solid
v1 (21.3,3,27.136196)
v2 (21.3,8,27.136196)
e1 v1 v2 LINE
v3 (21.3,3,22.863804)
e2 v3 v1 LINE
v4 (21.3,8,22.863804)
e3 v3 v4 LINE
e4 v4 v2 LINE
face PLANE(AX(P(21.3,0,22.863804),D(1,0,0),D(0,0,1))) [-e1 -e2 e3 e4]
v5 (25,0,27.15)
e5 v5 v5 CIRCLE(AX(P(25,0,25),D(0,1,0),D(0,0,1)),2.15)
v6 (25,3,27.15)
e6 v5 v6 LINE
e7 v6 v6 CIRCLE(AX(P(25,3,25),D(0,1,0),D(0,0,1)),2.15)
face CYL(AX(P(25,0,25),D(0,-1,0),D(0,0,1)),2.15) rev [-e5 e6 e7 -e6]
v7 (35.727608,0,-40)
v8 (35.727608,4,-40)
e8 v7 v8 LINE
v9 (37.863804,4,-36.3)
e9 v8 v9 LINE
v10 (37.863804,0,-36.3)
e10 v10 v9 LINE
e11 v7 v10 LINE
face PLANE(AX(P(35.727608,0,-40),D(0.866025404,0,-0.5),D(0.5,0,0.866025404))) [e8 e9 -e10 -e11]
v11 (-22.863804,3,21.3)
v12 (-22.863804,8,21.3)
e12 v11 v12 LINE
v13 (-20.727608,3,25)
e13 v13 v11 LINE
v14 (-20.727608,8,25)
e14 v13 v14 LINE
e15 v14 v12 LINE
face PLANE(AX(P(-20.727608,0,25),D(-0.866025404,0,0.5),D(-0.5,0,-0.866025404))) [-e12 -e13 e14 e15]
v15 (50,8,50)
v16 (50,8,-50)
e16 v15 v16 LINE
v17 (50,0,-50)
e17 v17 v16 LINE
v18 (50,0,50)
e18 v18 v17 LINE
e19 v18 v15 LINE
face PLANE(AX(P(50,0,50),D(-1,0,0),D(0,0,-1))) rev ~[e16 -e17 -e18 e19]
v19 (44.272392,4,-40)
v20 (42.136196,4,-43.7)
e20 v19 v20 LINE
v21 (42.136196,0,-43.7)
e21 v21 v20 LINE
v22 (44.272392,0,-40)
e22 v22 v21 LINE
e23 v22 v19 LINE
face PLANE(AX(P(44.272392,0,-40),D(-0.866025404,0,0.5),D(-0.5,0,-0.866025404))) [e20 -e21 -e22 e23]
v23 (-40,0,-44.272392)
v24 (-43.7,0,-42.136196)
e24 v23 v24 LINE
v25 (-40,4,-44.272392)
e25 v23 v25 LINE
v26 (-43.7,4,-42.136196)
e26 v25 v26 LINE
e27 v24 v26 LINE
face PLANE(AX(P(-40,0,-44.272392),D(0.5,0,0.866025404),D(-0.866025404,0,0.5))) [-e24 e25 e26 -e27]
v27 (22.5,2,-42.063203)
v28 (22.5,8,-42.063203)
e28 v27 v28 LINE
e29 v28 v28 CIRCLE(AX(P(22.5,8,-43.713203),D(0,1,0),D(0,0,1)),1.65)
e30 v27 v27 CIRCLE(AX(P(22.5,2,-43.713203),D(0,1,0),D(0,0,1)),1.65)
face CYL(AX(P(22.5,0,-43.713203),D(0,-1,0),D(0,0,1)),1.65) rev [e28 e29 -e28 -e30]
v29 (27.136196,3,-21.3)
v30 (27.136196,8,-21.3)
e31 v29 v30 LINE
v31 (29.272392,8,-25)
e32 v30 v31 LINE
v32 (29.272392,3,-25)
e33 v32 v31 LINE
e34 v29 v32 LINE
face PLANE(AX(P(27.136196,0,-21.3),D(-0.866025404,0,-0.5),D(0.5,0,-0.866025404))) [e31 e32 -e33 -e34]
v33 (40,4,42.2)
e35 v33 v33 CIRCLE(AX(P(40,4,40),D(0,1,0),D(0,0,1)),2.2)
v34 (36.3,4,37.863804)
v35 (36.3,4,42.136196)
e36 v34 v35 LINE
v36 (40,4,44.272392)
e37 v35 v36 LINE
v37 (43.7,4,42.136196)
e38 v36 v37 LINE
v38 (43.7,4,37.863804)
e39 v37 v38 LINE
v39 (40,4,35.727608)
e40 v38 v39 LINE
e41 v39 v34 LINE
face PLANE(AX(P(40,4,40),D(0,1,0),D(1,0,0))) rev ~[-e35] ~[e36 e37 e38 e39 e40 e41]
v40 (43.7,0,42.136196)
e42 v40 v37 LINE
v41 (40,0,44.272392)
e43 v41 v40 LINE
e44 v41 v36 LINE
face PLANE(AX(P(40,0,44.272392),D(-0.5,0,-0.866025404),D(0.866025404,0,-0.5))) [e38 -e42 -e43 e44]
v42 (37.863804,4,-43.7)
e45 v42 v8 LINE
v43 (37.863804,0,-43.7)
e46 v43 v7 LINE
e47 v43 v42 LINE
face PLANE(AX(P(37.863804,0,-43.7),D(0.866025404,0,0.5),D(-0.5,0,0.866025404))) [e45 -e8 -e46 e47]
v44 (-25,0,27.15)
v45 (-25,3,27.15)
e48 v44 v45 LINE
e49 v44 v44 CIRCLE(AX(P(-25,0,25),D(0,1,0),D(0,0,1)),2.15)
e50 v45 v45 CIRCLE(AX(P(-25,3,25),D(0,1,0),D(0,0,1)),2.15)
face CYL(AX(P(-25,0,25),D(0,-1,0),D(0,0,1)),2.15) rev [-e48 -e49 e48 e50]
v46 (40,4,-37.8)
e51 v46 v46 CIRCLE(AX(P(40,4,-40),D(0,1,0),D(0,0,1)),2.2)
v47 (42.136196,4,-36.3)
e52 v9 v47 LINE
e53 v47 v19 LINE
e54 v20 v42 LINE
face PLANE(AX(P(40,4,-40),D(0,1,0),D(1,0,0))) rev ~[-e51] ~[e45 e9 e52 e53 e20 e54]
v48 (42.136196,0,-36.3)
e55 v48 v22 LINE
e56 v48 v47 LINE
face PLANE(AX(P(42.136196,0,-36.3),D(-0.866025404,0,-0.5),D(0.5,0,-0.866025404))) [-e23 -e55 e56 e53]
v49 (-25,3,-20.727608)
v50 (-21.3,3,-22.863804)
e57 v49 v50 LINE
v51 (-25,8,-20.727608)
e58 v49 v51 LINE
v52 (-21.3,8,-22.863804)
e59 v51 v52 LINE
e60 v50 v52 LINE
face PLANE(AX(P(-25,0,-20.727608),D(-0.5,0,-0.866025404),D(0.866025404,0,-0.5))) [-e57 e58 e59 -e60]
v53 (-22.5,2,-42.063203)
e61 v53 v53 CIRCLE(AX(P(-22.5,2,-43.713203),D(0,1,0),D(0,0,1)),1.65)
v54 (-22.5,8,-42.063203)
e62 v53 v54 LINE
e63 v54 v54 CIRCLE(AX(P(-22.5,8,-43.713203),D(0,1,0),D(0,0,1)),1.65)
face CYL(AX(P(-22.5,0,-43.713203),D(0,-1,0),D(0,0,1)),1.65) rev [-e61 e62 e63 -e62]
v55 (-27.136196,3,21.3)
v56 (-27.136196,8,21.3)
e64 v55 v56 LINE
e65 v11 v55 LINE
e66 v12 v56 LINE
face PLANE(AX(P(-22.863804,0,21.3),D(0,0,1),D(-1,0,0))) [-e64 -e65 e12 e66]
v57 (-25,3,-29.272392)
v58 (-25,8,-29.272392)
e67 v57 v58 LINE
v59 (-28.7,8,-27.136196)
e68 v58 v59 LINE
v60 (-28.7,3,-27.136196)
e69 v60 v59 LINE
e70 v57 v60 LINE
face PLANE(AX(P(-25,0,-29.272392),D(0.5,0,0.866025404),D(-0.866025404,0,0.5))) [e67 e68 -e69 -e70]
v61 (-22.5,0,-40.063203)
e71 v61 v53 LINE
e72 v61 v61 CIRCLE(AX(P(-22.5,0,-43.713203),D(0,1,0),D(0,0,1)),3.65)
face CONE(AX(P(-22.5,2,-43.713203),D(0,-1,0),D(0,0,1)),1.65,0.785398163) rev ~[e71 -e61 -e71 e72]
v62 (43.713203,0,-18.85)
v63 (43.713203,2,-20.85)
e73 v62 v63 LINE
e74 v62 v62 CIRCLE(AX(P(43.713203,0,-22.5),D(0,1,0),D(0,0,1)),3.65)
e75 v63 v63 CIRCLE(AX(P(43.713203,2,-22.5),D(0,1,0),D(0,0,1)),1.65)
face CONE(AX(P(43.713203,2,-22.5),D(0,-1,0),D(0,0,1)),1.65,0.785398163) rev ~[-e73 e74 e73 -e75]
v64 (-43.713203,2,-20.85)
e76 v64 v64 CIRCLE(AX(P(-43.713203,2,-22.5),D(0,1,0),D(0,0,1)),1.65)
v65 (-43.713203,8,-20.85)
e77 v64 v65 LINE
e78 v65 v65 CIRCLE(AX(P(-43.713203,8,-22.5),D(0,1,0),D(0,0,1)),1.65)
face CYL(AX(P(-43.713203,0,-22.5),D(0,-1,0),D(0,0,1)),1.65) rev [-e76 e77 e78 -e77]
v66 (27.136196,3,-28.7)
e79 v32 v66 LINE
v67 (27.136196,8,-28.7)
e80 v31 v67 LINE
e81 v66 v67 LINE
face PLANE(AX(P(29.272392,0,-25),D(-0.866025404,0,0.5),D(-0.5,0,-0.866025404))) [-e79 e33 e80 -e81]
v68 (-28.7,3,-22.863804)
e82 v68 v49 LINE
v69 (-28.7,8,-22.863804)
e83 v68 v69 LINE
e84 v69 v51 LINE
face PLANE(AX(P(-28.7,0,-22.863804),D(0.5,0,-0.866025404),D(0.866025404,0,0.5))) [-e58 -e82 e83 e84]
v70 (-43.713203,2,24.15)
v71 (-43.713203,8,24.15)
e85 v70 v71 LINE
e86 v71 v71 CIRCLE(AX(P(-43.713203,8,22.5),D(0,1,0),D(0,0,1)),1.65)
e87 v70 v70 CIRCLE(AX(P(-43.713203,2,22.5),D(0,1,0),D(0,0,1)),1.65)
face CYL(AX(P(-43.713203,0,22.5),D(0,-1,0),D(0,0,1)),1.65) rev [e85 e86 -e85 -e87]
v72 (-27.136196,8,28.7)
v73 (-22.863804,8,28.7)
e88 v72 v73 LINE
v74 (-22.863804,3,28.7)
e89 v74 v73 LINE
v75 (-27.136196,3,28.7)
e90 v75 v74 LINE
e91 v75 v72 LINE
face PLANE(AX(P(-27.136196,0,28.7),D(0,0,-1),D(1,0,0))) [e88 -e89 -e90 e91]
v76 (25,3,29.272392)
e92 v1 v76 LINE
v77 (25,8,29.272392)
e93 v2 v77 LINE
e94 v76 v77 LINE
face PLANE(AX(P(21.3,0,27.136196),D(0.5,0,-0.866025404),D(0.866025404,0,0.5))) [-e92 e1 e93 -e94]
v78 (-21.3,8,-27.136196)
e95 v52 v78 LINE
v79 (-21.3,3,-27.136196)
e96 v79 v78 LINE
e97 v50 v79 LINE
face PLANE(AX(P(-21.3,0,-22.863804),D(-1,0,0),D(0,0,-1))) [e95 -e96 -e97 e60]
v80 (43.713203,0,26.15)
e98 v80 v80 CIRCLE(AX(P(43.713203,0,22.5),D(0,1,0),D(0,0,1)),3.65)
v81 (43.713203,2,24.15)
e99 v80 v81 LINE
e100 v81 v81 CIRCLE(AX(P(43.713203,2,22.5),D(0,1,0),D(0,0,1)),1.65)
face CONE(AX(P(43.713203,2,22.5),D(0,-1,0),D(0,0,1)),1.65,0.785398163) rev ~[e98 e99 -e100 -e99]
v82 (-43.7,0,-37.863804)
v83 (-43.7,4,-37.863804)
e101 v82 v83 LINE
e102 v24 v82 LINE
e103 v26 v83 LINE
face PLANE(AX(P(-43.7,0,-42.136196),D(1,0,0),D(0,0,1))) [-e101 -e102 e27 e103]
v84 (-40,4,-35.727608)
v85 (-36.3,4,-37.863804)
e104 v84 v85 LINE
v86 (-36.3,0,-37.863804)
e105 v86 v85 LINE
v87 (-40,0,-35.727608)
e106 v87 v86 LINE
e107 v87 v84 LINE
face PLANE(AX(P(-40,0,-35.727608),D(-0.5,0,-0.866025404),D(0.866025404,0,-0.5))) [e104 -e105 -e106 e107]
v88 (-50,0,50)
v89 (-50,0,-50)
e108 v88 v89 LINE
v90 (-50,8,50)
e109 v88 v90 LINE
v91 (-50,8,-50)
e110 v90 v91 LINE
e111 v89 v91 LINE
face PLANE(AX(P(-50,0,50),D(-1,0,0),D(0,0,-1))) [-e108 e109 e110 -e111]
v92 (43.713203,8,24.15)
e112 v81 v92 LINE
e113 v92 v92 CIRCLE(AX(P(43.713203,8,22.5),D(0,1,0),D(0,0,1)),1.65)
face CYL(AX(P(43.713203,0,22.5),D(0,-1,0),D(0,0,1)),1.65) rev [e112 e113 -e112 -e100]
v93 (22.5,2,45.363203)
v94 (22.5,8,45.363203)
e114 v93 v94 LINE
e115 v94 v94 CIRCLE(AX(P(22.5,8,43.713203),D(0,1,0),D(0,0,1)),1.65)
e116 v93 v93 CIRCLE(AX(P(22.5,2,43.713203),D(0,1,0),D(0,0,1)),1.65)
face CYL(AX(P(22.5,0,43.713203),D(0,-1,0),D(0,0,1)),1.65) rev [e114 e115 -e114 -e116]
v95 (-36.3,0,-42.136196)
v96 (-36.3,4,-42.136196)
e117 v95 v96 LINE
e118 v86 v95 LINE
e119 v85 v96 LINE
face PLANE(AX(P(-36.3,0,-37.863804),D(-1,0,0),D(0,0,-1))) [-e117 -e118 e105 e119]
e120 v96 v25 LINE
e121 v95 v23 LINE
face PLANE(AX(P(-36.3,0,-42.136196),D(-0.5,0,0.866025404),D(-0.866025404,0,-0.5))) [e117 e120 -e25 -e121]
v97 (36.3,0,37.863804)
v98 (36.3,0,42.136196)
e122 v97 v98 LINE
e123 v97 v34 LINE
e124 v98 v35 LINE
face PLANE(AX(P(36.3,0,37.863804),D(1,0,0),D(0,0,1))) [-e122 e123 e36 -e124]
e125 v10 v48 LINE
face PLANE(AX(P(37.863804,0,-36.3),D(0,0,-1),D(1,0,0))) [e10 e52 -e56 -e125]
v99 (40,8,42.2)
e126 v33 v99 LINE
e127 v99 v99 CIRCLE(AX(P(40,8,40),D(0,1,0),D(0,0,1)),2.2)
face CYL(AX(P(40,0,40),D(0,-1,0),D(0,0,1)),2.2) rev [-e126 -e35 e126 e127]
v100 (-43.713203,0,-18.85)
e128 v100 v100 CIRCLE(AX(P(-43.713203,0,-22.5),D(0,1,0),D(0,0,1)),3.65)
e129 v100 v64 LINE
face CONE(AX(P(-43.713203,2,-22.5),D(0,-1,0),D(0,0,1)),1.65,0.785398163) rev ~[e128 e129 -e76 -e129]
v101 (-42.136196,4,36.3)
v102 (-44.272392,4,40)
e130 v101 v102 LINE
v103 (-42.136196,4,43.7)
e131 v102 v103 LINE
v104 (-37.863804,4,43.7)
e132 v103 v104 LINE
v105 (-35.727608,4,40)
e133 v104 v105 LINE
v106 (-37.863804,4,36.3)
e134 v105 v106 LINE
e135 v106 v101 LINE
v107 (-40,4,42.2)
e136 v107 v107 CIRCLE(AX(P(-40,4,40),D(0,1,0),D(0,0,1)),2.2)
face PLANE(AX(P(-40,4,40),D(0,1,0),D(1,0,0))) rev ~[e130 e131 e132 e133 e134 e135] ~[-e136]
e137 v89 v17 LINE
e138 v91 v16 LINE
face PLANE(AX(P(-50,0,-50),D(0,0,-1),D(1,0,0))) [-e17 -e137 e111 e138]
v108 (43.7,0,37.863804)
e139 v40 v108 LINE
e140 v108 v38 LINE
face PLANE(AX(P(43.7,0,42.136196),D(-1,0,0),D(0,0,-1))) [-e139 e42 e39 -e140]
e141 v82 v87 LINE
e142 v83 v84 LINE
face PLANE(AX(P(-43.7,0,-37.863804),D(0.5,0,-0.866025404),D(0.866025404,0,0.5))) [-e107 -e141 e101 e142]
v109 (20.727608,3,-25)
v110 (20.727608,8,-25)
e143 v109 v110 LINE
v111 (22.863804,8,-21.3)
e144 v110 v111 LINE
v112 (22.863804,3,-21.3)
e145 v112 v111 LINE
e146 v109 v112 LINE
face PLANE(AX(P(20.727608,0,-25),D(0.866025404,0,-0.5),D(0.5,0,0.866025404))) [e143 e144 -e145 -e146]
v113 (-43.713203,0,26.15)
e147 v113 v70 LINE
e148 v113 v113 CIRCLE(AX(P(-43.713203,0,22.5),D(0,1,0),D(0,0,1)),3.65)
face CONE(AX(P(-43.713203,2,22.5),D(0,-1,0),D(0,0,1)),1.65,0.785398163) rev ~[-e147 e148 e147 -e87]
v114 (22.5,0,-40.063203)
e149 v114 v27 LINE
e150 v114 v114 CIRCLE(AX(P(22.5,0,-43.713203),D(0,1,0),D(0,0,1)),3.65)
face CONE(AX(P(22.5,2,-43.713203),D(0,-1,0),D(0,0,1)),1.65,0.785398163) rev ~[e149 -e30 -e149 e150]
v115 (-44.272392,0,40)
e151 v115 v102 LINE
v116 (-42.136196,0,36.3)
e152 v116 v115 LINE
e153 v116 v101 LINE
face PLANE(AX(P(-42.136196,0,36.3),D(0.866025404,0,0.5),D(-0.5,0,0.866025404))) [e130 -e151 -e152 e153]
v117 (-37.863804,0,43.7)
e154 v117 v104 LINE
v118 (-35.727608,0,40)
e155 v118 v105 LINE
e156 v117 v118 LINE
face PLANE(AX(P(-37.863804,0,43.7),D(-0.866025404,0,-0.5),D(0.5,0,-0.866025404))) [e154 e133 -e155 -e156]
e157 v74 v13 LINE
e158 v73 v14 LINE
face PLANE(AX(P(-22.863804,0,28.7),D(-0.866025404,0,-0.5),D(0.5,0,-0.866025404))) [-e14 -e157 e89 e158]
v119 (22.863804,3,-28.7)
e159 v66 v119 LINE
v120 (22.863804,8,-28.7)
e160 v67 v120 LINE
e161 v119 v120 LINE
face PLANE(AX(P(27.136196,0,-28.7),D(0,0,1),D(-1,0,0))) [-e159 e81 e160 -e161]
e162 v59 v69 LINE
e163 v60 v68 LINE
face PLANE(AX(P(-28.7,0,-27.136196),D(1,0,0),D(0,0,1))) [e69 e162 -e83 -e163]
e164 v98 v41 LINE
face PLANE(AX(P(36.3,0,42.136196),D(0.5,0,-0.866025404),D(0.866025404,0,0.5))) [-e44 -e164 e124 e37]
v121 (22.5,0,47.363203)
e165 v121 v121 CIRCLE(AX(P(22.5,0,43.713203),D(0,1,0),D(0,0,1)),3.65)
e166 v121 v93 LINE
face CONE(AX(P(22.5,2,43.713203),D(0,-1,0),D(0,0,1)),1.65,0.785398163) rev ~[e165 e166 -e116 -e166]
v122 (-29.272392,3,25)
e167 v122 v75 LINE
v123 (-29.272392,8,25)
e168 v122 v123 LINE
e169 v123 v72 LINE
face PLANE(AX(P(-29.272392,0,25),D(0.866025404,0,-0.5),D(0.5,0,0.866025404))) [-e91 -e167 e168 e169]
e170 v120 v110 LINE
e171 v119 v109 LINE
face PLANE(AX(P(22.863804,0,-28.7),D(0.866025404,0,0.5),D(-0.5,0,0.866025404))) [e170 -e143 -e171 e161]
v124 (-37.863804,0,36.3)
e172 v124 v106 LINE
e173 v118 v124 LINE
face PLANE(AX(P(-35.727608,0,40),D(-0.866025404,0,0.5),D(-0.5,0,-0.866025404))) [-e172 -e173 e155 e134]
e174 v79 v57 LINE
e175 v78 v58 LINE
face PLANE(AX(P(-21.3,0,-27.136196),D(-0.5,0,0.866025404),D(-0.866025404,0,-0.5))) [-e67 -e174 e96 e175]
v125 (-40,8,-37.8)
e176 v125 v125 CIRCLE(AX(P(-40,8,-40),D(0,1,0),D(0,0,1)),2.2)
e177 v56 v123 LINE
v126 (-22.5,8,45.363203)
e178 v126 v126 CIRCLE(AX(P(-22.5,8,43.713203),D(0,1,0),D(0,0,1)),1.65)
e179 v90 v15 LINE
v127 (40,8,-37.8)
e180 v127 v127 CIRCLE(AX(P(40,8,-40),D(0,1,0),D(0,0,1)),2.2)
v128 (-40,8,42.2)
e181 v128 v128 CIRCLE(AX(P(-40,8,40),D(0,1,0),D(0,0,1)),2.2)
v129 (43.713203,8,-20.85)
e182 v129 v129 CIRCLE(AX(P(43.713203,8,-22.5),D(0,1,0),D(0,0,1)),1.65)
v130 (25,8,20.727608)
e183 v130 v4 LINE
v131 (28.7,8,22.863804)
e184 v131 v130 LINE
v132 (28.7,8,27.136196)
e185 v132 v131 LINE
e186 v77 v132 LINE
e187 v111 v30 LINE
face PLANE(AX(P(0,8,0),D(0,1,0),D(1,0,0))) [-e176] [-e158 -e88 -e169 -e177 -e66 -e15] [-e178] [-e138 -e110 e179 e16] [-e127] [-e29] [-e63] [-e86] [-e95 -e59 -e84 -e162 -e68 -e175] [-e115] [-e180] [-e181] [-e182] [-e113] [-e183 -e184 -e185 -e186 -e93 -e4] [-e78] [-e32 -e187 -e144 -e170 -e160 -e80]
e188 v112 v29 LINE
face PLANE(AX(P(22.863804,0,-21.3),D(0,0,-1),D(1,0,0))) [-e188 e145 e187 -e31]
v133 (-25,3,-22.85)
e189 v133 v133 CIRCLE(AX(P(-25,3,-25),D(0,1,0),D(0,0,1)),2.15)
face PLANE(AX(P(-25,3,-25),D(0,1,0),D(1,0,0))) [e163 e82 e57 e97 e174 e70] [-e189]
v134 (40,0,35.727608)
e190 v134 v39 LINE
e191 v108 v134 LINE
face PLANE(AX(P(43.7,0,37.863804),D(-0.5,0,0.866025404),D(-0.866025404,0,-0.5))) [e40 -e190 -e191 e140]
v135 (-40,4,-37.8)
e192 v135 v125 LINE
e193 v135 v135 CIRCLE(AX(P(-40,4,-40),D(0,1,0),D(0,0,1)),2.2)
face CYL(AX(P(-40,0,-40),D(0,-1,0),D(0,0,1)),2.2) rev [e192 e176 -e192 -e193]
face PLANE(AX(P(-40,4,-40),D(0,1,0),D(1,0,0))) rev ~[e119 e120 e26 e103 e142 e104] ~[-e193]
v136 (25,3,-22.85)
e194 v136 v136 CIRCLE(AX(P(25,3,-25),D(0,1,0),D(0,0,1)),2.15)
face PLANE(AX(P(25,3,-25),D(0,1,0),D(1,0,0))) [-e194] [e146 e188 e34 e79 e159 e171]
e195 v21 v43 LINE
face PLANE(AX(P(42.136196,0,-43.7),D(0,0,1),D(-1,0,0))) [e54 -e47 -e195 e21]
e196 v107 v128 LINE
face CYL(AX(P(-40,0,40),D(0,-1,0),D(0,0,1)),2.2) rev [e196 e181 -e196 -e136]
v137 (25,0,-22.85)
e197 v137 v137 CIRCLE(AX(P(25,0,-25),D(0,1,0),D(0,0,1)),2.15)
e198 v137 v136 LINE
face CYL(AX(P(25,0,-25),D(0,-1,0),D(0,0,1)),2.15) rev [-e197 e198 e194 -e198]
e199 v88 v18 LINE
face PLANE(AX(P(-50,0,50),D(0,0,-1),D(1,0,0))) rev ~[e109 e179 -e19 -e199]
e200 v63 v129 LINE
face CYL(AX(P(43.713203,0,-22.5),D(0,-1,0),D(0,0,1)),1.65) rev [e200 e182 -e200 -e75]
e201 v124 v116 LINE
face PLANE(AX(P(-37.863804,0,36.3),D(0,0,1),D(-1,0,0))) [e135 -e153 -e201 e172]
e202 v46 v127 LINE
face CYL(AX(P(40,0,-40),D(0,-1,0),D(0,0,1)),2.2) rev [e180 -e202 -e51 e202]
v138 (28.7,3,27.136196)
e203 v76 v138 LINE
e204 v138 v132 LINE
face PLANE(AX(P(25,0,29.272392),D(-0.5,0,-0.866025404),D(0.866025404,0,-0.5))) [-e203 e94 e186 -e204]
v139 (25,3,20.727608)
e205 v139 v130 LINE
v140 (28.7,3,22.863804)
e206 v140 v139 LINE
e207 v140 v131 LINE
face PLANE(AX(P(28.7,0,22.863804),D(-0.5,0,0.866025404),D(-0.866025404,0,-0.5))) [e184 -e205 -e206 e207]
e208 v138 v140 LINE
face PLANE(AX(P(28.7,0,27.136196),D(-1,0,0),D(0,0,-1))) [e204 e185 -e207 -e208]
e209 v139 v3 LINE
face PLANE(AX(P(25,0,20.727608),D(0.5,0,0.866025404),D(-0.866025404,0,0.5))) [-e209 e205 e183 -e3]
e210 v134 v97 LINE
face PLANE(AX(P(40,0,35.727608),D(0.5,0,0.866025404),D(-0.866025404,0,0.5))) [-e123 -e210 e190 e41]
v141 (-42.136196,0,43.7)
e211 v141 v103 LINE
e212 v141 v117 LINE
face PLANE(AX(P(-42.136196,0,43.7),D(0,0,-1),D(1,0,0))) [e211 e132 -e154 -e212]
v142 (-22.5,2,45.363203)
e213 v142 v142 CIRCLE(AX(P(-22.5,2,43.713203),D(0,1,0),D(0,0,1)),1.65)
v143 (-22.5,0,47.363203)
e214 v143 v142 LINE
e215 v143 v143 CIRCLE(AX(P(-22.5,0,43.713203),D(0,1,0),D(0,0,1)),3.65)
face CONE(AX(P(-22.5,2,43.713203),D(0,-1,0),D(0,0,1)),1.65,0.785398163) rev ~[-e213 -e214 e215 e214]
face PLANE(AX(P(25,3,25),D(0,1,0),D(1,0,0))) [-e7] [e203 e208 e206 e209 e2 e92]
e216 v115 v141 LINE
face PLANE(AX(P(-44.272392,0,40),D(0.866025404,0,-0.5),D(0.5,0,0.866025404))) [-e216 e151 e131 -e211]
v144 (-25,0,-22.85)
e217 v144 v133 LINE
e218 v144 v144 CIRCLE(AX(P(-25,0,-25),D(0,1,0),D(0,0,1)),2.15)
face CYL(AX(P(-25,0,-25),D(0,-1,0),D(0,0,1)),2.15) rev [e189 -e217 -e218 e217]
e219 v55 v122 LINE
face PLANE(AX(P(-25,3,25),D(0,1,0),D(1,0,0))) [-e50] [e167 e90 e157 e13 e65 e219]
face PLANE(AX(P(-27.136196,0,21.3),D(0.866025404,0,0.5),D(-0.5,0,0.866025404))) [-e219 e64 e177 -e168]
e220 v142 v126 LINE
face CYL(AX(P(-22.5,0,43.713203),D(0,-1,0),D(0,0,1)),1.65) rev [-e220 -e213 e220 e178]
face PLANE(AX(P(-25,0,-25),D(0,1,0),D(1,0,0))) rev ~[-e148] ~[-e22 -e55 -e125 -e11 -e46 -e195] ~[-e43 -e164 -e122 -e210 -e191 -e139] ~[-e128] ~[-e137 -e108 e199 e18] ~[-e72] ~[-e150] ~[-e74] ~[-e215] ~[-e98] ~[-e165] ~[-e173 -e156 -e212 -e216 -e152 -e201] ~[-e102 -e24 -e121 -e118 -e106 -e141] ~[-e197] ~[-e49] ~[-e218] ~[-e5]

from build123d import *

# Parameters (mm, degrees)
SKETCH1_W           = 100
SKETCH1_H           = 100
SKETCH1_R           = 2.2
SKETCH1_R_2         = 1.65
BOSS_EXTRUDE1_DEPTH = 8
SKETCH1_3_R         = 2.15
BOSS_EXTRUDE2_DEPTH = 3
SKETCH1_4_R         = 2.2
CUT_EXTRUDE1_DEPTH  = 4
CHAMFER1_SIZE       = 2


with BuildPart() as part:
    # Sketch1 → Boss-Extrude1 (new body)
    with BuildSketch(Plane(origin=(0, 0, 0), x_dir=(1, 0, 0), z_dir=(0, 1, 0))):
        Rectangle(SKETCH1_W, SKETCH1_H)
        with Locations((40, 40)):
            Circle(SKETCH1_R, mode=Mode.SUBTRACT)
        with Locations((-22.5, -43.713203436)):
            Circle(SKETCH1_R_2, mode=Mode.SUBTRACT)
        Polygon((-22.863804004, -28.7), (-27.136195996, -28.7), (-29.272391992, -25), (-27.136195996, -21.3), (-22.863804004, -21.3), (-20.727608008, -25), align=None, mode=Mode.SUBTRACT)
        with Locations((-43.713203436, -22.5)):
            Circle(SKETCH1_R_2, mode=Mode.SUBTRACT)
        with Locations((22.5, -43.713203436)):
            Circle(SKETCH1_R_2, mode=Mode.SUBTRACT)
        Polygon((28.7, -22.863804004), (28.7, -27.136195996), (25, -29.272391992), (21.3, -27.136195996), (21.3, -22.863804004), (25, -20.727608008), align=None, mode=Mode.SUBTRACT)
        with Locations((43.713203436, -22.5)):
            Circle(SKETCH1_R_2, mode=Mode.SUBTRACT)
        with Locations((-43.713203436, 22.5)):
            Circle(SKETCH1_R_2, mode=Mode.SUBTRACT)
        Polygon((-28.7, 22.863804004), (-28.7, 27.136195996), (-25, 29.272391992), (-21.3, 27.136195996), (-21.3, 22.863804004), (-25, 20.727608008), align=None, mode=Mode.SUBTRACT)
        with Locations((-22.5, 43.713203436)):
            Circle(SKETCH1_R_2, mode=Mode.SUBTRACT)
        with Locations((43.713203436, 22.5)):
            Circle(SKETCH1_R_2, mode=Mode.SUBTRACT)
        with Locations((22.5, 43.713203436)):
            Circle(SKETCH1_R_2, mode=Mode.SUBTRACT)
        Polygon((22.863804004, 28.7), (27.136195996, 28.7), (29.272391992, 25), (27.136195996, 21.3), (22.863804004, 21.3), (20.727608008, 25), align=None, mode=Mode.SUBTRACT)
        with Locations((-40, -40)):
            Circle(SKETCH1_R, mode=Mode.SUBTRACT)
        with Locations((40, -40)):
            Circle(SKETCH1_R, mode=Mode.SUBTRACT)
        with Locations((-40, 40)):
            Circle(SKETCH1_R, mode=Mode.SUBTRACT)
    extrude(amount=BOSS_EXTRUDE1_DEPTH)

    # Sketch1<3> → Boss-Extrude2 (add)
    # profile 1 of 4: a face of its own
    with BuildSketch(Plane(origin=(0, 0, 0), x_dir=(1, 0, 0), z_dir=(0, 1, 0))):
        Polygon((25, -29.272391992), (28.7, -27.136195996), (28.7, -22.863804004), (25, -20.727608008), (21.3, -22.863804004), (21.3, -27.136195996), align=None)
        with Locations((25, -25)):
            Circle(SKETCH1_3_R, mode=Mode.SUBTRACT)
    # profile 2 of 4: a face of its own
    with BuildSketch(Plane(origin=(0, 0, 0), x_dir=(1, 0, 0), z_dir=(0, 1, 0))):
        Polygon((29.272391992, 25), (27.136195996, 28.7), (22.863804004, 28.7), (20.727608008, 25), (22.863804004, 21.3), (27.136195996, 21.3), align=None)
        with Locations((25, 25)):
            Circle(SKETCH1_3_R, mode=Mode.SUBTRACT)
    # profile 3 of 4: a face of its own
    with BuildSketch(Plane(origin=(0, 0, 0), x_dir=(1, 0, 0), z_dir=(0, 1, 0))):
        Polygon((-29.272391992, -25), (-27.136195996, -28.7), (-22.863804004, -28.7), (-20.727608008, -25), (-22.863804004, -21.3), (-27.136195996, -21.3), align=None)
        with Locations((-25, -25)):
            Circle(SKETCH1_3_R, mode=Mode.SUBTRACT)
    # profile 4 of 4: a face of its own
    with BuildSketch(Plane(origin=(0, 0, 0), x_dir=(1, 0, 0), z_dir=(0, 1, 0))):
        Polygon((-25, 29.272391992), (-28.7, 27.136195996), (-28.7, 22.863804004), (-25, 20.727608008), (-21.3, 22.863804004), (-21.3, 27.136195996), align=None)
        with Locations((-25, 25)):
            Circle(SKETCH1_3_R, mode=Mode.SUBTRACT)
    extrude(amount=BOSS_EXTRUDE2_DEPTH)

    # Sketch1<4> → Cut-Extrude1 (cut)
    # profile 1 of 4: a face of its own
    with BuildSketch(Plane(origin=(0, 0, 0), x_dir=(1, 0, 0), z_dir=(0, 1, 0))):
        Polygon((37.863804004, 36.3), (42.136195996, 36.3), (44.272391992, 40), (42.136195996, 43.7), (37.863804004, 43.7), (35.727608008, 40), align=None)
        with Locations((40, 40)):
            Circle(SKETCH1_4_R, mode=Mode.SUBTRACT)
    # profile 2 of 4: a face of its own
    with BuildSketch(Plane(origin=(0, 0, 0), x_dir=(1, 0, 0), z_dir=(0, 1, 0))):
        Polygon((36.3, -37.863804004), (36.3, -42.136195996), (40, -44.272391992), (43.7, -42.136195996), (43.7, -37.863804004), (40, -35.727608008), align=None)
        with Locations((40, -40)):
            Circle(SKETCH1_4_R, mode=Mode.SUBTRACT)
    # profile 3 of 4: a face of its own
    with BuildSketch(Plane(origin=(0, 0, 0), x_dir=(1, 0, 0), z_dir=(0, 1, 0))):
        Polygon((-37.863804004, -36.3), (-42.136195996, -36.3), (-44.272391992, -40), (-42.136195996, -43.7), (-37.863804004, -43.7), (-35.727608008, -40), align=None)
        with Locations((-40, -40)):
            Circle(SKETCH1_4_R, mode=Mode.SUBTRACT)
    # profile 4 of 4: a face of its own
    with BuildSketch(Plane(origin=(0, 0, 0), x_dir=(1, 0, 0), z_dir=(0, 1, 0))):
        Polygon((-36.3, 37.863804004), (-36.3, 42.136195996), (-40, 44.272391992), (-43.7, 42.136195996), (-43.7, 37.863804004), (-40, 35.727608008), align=None)
        with Locations((-40, 40)):
            Circle(SKETCH1_4_R, mode=Mode.SUBTRACT)
    extrude(amount=CUT_EXTRUDE1_DEPTH, mode=Mode.SUBTRACT)

    # Chamfer1
    chamfer1_edges = [part.edges().sort_by_distance(p)[0] for p in [
        (20.85, 0, -43.713203436),
        (42.063203436, 0, -22.5),
        (42.063203436, 0, 22.5),
        (20.85, 0, 43.713203436),
        (-24.15, 0, 43.713203436),
        (-45.363203436, 0, 22.5),
        (-24.15, 0, -43.713203436),
        (-45.363203436, 0, -22.5),
    ]]
    chamfer(chamfer1_edges, length=CHAMFER1_SIZE)


solid = part.part
